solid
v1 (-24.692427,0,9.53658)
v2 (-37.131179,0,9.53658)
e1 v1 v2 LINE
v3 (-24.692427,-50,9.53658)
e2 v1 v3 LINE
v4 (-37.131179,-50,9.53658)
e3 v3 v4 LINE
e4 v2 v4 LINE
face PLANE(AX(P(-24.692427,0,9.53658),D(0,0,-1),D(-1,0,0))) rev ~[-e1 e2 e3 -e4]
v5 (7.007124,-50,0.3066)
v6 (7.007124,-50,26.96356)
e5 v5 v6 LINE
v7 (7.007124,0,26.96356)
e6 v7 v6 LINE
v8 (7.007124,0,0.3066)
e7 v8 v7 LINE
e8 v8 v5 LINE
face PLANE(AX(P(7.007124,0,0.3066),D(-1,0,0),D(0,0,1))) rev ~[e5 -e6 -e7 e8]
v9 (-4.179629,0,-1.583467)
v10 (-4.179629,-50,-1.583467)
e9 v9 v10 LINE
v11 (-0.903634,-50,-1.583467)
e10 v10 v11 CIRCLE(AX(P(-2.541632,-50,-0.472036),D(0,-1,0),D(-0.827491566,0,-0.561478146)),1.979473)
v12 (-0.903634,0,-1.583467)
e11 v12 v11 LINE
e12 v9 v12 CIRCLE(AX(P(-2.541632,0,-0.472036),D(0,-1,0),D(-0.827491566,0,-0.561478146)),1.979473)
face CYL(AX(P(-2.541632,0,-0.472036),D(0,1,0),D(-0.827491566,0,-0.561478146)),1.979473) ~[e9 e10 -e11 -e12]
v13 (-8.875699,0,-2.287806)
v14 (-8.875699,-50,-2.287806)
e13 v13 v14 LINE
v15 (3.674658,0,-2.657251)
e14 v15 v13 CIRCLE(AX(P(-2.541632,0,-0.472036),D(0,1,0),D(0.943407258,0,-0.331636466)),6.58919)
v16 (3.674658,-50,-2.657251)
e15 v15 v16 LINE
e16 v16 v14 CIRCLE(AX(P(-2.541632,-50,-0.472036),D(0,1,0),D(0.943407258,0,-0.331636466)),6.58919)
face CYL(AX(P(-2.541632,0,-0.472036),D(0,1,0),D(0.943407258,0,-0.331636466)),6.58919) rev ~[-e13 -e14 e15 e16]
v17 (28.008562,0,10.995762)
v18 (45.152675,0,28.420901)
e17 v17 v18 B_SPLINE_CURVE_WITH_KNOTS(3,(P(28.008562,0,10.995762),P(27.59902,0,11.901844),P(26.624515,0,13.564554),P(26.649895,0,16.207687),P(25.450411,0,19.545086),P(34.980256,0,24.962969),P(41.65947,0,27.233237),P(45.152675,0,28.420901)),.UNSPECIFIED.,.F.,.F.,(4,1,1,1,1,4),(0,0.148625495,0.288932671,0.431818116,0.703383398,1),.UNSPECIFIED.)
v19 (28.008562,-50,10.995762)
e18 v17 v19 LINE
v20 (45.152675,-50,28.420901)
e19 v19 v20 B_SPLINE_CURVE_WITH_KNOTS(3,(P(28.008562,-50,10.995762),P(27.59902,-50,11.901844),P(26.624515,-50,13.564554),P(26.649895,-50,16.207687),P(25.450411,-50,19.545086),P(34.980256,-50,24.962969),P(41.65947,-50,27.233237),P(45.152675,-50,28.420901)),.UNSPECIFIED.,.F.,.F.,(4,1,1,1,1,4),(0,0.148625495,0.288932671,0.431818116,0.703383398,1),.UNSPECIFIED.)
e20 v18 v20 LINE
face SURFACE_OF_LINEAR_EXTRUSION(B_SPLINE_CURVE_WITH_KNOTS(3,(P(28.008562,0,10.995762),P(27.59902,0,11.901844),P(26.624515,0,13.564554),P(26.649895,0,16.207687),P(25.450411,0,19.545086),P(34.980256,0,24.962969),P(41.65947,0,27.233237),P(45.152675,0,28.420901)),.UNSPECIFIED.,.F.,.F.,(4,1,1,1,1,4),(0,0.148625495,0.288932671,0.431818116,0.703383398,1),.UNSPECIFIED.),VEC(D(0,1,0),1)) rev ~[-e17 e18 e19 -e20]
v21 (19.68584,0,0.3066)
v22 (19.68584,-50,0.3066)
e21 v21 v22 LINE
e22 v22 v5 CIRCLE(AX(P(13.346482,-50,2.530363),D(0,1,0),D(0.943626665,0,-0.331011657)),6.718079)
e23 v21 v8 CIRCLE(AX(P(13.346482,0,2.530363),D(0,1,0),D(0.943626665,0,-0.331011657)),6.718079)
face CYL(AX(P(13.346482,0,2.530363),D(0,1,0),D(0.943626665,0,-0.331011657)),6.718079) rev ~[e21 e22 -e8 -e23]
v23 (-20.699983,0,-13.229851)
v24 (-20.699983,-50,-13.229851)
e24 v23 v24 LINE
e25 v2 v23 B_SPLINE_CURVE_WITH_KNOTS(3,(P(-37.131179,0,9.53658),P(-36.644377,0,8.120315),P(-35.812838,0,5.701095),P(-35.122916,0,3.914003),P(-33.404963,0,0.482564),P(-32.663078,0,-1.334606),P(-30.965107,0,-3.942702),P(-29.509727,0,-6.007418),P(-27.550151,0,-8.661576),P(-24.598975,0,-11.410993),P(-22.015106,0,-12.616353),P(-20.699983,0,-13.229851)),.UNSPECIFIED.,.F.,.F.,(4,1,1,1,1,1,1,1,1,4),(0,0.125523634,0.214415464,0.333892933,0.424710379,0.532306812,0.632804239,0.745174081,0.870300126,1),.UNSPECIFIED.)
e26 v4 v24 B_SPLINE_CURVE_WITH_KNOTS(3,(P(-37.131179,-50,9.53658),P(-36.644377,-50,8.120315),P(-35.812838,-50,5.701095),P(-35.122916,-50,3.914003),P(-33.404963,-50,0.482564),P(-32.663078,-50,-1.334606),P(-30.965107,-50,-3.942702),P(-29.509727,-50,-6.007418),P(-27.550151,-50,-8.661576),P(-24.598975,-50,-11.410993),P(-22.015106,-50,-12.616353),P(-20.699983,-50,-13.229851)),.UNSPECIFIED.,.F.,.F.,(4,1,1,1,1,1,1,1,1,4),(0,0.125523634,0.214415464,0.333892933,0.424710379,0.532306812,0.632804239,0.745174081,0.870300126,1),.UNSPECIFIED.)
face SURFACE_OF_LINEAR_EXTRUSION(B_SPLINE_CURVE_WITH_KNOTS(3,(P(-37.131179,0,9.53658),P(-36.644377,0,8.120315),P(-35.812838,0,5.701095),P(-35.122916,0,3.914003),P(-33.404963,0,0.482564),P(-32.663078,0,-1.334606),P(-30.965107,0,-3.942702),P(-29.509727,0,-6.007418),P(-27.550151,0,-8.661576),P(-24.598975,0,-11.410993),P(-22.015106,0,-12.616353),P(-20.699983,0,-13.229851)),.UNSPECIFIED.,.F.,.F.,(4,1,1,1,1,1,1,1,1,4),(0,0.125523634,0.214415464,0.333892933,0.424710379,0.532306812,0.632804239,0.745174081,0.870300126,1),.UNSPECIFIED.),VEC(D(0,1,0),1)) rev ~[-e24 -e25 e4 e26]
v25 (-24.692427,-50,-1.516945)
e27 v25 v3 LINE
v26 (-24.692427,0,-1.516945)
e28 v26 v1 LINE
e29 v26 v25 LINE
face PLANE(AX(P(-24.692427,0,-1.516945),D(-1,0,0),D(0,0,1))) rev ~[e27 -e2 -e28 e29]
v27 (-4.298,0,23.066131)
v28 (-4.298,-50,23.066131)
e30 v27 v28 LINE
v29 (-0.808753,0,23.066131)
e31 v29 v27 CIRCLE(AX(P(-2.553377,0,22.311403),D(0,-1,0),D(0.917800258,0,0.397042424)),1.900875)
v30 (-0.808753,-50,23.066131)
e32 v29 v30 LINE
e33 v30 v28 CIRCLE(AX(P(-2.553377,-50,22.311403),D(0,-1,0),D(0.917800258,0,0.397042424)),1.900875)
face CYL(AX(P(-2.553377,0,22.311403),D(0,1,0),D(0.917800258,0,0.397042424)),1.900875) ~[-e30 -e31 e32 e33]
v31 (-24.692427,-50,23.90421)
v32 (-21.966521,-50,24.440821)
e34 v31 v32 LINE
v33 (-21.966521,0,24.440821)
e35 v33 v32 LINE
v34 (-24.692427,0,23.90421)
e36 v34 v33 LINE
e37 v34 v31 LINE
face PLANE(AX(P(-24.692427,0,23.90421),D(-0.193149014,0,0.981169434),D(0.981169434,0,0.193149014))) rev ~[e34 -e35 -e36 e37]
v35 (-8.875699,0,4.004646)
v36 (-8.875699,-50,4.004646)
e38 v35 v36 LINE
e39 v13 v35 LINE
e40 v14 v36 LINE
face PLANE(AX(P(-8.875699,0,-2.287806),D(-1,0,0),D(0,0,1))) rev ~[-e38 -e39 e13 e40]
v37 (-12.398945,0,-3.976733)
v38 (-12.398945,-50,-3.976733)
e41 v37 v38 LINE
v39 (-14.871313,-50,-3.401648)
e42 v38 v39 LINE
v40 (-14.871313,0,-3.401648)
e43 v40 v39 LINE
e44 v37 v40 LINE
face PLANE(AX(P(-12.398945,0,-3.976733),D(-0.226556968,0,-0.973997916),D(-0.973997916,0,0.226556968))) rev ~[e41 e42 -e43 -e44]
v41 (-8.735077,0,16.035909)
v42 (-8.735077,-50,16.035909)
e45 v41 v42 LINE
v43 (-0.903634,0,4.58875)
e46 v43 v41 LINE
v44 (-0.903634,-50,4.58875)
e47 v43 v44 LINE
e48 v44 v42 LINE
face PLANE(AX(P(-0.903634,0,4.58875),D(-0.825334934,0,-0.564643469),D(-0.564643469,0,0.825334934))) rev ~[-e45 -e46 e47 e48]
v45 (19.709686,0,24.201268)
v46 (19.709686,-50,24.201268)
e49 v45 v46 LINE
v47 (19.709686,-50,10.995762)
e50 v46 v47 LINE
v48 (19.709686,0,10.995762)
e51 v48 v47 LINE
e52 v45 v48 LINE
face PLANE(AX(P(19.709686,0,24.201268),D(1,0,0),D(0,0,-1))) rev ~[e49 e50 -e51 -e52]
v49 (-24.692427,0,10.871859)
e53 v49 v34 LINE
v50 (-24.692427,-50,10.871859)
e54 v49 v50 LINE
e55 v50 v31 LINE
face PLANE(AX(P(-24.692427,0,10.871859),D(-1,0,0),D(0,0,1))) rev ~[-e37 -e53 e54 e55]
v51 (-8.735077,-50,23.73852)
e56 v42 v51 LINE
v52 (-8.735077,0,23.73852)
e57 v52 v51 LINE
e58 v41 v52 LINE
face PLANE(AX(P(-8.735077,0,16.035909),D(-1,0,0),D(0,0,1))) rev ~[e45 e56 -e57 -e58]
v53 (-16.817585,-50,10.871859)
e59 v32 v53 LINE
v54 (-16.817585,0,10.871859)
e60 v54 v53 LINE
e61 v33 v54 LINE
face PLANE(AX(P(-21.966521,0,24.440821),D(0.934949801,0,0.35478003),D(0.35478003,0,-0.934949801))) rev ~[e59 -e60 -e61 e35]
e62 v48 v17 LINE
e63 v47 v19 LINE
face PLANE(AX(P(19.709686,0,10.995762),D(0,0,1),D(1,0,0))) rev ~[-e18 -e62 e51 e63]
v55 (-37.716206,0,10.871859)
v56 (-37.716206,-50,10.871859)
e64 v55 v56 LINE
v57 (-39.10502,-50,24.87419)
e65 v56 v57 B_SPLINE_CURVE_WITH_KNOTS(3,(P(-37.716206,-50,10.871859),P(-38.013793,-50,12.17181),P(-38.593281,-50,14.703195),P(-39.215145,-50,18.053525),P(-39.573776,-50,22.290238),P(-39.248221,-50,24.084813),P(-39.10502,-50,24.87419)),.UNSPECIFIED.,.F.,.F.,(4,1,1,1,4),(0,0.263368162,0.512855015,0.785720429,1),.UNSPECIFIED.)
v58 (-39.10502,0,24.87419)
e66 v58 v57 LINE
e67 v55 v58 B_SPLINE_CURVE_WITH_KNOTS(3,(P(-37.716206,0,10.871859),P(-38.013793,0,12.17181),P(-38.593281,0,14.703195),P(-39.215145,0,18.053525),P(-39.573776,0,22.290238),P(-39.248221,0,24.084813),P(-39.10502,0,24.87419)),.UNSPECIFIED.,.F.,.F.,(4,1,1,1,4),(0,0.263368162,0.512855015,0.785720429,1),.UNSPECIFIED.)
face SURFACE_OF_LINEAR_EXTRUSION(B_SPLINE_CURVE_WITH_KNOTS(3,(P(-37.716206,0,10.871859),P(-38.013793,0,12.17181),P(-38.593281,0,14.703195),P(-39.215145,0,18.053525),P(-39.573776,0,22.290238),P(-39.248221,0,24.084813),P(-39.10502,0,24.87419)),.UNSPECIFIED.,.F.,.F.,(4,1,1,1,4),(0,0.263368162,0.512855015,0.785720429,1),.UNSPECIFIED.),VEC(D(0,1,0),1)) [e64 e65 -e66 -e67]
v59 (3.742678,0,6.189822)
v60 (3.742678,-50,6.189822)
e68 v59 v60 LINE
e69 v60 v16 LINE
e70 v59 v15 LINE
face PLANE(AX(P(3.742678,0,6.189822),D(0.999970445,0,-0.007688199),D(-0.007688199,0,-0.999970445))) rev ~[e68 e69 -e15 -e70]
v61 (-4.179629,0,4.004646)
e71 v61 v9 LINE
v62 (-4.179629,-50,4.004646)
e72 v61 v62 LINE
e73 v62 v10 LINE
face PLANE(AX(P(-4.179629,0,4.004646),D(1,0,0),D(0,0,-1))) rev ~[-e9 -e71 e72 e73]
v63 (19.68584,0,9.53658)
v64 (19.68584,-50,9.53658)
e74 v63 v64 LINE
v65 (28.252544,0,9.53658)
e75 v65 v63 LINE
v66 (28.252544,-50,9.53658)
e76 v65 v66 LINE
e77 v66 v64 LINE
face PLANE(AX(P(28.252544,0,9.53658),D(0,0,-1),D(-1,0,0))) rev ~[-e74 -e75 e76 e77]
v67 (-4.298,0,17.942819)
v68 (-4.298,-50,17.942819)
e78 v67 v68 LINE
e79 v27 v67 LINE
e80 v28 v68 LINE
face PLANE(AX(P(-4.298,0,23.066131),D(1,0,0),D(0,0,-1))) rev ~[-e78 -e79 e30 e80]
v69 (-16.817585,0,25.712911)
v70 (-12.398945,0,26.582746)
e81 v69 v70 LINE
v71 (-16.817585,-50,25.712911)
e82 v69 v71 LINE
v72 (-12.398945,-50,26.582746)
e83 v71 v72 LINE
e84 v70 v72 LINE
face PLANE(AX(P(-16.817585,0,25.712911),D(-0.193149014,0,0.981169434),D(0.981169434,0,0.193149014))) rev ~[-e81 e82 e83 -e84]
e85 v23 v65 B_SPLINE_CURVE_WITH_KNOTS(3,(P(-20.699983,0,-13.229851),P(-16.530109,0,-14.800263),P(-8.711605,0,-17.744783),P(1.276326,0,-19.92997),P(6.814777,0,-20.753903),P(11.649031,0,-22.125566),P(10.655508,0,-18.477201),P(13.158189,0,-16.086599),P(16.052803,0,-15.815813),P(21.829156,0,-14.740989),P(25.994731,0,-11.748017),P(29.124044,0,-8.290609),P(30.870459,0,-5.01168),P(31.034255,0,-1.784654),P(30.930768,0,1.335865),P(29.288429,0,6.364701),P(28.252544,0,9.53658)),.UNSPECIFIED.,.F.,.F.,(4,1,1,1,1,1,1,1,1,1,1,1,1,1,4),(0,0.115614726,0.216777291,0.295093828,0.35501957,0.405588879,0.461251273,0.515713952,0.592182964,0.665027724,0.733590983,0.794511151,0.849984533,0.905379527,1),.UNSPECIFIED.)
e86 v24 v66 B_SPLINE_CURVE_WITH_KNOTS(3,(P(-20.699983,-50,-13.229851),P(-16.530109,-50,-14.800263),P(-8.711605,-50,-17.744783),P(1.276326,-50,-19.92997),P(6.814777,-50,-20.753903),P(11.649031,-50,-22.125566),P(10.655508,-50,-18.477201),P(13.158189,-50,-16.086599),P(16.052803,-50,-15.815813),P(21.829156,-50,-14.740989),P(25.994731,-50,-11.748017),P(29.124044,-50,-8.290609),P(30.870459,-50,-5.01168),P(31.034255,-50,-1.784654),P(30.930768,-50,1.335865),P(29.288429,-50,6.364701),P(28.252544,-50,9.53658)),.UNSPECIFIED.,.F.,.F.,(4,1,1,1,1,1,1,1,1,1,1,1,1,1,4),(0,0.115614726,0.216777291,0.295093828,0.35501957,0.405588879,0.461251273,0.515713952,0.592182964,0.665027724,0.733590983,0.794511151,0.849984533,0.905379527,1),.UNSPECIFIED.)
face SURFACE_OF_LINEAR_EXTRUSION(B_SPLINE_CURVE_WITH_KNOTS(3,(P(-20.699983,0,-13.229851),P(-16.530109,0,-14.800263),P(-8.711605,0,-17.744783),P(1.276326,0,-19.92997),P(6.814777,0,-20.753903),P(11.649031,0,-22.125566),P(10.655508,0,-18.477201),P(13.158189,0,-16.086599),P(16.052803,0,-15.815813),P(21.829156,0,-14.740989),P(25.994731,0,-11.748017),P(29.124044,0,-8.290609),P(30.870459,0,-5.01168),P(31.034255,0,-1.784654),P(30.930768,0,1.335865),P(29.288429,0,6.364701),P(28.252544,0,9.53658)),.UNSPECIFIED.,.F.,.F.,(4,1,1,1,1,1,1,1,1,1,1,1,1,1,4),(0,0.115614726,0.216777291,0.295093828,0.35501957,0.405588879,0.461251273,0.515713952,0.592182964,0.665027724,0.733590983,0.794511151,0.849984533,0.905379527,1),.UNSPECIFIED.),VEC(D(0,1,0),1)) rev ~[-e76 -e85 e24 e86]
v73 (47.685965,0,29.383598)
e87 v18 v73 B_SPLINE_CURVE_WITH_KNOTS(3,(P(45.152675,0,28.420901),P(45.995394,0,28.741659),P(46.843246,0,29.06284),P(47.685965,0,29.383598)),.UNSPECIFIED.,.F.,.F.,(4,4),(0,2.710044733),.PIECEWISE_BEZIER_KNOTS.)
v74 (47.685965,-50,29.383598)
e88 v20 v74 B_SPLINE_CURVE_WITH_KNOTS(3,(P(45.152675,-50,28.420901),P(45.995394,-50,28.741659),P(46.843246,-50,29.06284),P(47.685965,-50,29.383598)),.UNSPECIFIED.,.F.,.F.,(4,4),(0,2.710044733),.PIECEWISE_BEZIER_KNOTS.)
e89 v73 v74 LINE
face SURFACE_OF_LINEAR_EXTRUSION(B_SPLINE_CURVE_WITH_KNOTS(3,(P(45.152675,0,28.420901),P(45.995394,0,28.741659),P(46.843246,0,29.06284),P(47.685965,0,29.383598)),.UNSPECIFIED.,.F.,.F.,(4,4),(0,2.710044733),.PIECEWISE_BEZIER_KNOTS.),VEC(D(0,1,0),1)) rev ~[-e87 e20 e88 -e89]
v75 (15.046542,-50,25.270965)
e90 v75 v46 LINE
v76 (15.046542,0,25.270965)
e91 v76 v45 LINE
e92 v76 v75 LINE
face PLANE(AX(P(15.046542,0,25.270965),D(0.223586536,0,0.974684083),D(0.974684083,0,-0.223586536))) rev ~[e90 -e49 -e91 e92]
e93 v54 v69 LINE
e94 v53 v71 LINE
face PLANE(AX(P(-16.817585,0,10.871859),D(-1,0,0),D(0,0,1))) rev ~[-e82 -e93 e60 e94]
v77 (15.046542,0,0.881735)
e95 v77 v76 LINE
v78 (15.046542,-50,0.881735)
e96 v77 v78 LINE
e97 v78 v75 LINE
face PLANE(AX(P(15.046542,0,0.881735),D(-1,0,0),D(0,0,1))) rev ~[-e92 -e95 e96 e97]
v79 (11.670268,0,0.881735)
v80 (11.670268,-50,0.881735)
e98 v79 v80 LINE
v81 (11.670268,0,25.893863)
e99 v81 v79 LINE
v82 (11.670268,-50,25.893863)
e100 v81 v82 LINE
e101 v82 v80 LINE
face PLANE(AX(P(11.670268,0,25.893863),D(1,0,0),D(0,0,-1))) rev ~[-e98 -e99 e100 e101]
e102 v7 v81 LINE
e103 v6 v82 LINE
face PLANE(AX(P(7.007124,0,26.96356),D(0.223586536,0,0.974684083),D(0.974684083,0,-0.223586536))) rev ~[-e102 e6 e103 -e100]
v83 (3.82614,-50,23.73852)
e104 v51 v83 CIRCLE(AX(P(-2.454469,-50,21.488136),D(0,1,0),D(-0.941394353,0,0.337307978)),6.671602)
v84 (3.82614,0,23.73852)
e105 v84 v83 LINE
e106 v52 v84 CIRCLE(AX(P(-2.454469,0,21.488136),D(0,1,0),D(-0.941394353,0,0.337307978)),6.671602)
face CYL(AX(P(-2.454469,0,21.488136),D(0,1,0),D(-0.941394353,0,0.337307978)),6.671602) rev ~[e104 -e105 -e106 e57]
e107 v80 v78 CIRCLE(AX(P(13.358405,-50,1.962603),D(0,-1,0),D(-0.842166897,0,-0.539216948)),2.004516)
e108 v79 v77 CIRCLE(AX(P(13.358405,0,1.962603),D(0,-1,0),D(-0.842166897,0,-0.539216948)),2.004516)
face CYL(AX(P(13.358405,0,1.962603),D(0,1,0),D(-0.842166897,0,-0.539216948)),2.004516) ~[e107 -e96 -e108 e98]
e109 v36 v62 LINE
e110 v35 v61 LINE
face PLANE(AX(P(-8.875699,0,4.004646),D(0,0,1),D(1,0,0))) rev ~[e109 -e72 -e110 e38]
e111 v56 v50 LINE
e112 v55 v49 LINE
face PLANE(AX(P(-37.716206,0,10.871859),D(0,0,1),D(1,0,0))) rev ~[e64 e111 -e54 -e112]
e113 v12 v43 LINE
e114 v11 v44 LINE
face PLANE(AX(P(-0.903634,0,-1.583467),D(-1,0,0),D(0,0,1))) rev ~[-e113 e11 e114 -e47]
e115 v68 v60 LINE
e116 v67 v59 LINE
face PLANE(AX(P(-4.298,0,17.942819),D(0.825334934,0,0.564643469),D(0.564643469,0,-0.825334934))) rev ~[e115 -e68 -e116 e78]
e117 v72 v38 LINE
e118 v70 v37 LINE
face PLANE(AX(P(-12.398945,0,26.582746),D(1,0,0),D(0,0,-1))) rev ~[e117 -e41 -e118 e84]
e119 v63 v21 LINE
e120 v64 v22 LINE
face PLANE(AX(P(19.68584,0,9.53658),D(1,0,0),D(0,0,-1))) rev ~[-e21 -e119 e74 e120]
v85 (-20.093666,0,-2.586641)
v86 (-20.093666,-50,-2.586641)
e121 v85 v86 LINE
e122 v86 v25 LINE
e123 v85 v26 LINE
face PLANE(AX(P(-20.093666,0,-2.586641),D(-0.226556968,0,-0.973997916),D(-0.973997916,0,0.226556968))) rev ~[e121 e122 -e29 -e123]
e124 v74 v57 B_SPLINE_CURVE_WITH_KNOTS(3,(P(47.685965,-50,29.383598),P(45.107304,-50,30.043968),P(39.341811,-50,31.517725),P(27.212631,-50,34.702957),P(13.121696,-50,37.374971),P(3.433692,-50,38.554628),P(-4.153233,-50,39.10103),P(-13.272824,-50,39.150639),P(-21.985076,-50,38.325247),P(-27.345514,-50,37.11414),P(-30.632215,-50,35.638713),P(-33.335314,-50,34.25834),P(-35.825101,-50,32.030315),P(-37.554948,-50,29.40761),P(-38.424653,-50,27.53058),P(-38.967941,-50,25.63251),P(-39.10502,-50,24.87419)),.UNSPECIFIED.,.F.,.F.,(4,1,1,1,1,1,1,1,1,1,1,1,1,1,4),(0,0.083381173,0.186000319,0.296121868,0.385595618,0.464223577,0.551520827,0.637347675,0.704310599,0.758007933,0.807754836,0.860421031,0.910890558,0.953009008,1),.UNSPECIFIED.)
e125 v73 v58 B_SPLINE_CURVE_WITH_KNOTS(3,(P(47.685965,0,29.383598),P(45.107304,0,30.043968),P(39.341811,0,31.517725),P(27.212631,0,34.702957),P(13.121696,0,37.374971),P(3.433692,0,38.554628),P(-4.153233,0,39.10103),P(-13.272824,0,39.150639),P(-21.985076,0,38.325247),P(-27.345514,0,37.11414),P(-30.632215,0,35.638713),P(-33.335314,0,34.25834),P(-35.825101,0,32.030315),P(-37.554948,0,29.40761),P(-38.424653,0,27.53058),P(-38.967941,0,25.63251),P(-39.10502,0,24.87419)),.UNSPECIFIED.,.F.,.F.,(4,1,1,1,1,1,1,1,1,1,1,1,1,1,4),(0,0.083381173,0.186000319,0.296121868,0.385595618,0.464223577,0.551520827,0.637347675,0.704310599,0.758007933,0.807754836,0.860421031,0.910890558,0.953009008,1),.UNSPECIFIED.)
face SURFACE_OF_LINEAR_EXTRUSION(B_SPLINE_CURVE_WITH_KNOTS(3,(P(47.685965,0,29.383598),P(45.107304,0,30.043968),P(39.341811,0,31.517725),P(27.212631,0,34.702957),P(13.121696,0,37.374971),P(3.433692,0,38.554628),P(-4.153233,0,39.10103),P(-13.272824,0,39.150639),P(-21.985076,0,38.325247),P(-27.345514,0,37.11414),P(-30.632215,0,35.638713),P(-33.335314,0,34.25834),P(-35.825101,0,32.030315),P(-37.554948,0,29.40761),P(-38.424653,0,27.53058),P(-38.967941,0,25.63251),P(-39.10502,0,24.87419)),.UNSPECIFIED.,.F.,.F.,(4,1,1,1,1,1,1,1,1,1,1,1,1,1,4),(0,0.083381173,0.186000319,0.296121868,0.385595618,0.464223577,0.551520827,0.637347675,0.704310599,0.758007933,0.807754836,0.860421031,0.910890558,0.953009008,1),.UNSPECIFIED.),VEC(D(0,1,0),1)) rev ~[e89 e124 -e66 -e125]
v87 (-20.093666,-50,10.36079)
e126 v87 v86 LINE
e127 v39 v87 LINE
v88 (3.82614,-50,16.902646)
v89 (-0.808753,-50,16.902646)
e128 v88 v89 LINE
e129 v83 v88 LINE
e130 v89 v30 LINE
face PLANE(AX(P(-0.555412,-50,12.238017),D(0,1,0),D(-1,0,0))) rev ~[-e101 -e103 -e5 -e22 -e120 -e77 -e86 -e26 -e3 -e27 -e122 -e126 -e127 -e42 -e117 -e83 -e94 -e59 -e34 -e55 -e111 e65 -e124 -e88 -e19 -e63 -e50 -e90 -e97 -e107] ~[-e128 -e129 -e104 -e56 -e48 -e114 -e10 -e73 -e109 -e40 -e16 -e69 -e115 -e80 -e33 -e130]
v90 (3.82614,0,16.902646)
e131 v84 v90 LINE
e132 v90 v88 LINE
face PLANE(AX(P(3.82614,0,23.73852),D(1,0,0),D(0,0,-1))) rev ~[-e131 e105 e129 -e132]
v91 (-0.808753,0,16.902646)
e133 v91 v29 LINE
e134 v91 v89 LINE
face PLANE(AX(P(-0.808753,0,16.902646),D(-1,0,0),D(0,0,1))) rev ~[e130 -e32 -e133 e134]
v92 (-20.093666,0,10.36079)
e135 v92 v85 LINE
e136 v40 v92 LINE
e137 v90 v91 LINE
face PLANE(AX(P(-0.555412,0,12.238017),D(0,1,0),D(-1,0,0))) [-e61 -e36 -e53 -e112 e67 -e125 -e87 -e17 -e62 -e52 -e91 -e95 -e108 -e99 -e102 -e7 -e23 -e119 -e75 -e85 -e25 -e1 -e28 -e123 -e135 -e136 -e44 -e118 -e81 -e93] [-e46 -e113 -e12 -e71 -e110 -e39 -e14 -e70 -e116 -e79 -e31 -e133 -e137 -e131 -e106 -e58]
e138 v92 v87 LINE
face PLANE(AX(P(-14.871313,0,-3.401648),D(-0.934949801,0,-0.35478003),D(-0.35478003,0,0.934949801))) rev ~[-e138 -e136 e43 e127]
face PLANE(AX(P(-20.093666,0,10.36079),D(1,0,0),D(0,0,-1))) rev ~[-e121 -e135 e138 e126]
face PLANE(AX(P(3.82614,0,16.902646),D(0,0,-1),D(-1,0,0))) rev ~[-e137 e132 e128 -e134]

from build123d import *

# Parameters (mm, degrees)
F1_DEPTH = 50


with BuildPart() as f1:
    # F0 (on Front) → F1 (new body)
    with BuildSketch(Plane.XZ):
        with BuildLine():
            add(Edge.make_bspline(
                [(-37.7162061632, 10.8718592674), (-38.0137925928, 12.1718101066), (-38.5932806053, 14.7031954565), (-39.2151447113, 18.0535253196), (-39.5737756392, 22.2902382556), (-39.2482214069, 24.0848133925), (-39.1050204635, 24.8741898686)],
                knots=[0, 0, 0, 0, 0.2633681623, 0.5128550154, 0.7857204286, 1, 1, 1, 1], degree=3))
            Line((-37.7162061632, 10.8718592674), (-24.692427367, 10.8718592674))
            Line((-24.692427367, 10.8718592674), (-24.692427367, 23.9042103876))
            Line((-24.692427367, 23.9042103876), (-21.9665206969, 24.4408212602))
            Line((-21.9665206969, 24.4408212602), (-16.8175846338, 10.8718592674))
            Line((-16.8175846338, 10.8718592674), (-16.8175846338, 25.7129110396))
            Line((-16.8175846338, 25.7129110396), (-12.3989448364, 26.5827464538))
            Line((-12.3989448364, 26.5827464538), (-12.3989448364, -3.9767332708))
            Line((-12.3989448364, -3.9767332708), (-14.8713132367, -3.4016475547))
            Line((-14.8713132367, -3.4016475547), (-20.0936662698, 10.3607897628))
            Line((-20.0936662698, 10.3607897628), (-20.0936662698, -2.5866411161))
            Line((-20.0936662698, -2.5866411161), (-24.692427367, -1.5169454273))
            Line((-24.692427367, -1.5169454273), (-24.692427367, 9.5365801826))
            Line((-24.692427367, 9.5365801826), (-37.1311791241, 9.5365801826))
            add(Edge.make_bspline(
                [(-37.1311791241, 9.5365801826), (-36.6443772184, 8.1203147102), (-35.8128377427, 5.7010952401), (-35.1229162991, 3.9140028803), (-33.4049634325, 0.4825636444), (-32.6630781804, -1.3346058437), (-30.9651065329, -3.9427016689), (-29.509727436, -6.00741778), (-27.5501513285, -8.661576152), (-24.5989748796, -11.4109926011), (-22.0151064088, -12.6163530494), (-20.6999834627, -13.2298506796)],
                knots=[0, 0, 0, 0, 0.1255236338, 0.2144154644, 0.3338929331, 0.4247103788, 0.5323068124, 0.6328042387, 0.7451740805, 0.8703001264, 1, 1, 1, 1], degree=3))
            add(Edge.make_bspline(
                [(-20.6999834627, -13.2298506796), (-16.5301085551, -14.8002632919), (-8.7116046094, -17.7447826065), (1.2763262747, -19.9299698522), (6.8147770756, -20.7539027843), (11.6490305393, -22.1255664797), (10.6555075071, -18.4772007098), (13.1581887862, -16.086599108), (16.052802937, -15.8158127323), (21.8291561008, -14.7409885195), (25.9947312111, -11.7480172987), (29.1240435942, -8.2906086726), (30.8704592823, -5.0116798542), (31.0342548039, -1.7846543849), (30.9307681785, 1.3358652121), (29.2884294917, 6.3647014715), (28.2525438815, 9.5365801826)],
                knots=[0, 0, 0, 0, 0.1156147255, 0.2167772912, 0.2950938275, 0.3550195696, 0.4055888786, 0.4612512734, 0.5157139519, 0.5921829643, 0.6650277241, 0.7335909835, 0.7945111507, 0.8499845334, 0.9053795272, 1, 1, 1, 1], degree=3))
            Line((28.2525438815, 9.5365801826), (19.6858402342, 9.5365801826))
            Line((19.6858402342, 9.5365801826), (19.6858402342, 0.3066004333))
            ThreePointArc((19.6858402342, 0.3066004333), (13.3464820683, -4.1877158784), (7.0071239024, 0.3066004333))
            Line((7.0071239024, 0.3066004333), (7.0071239024, 1.9209996099))
            Line((7.0071239024, 1.9209996099), (7.0071239024, 26.9635599107))
            Line((7.0071239024, 26.9635599107), (11.6702681407, 25.8938632905))
            Line((11.6702681407, 25.8938632905), (11.6702681407, 0.8817345434))
            ThreePointArc((11.6702681407, 0.8817345434), (13.3584048599, -0.0419122917), (15.0465415791, 0.8817345434))
            Line((15.0465415791, 0.8817345434), (15.0465415791, 25.2709649503))
            Line((15.0465415791, 25.2709649503), (19.7096858174, 24.2012683302))
            Line((19.7096858174, 24.2012683302), (19.7096858174, 10.9957624227))
            Line((19.7096858174, 10.9957624227), (28.0085615814, 10.9957624227))
            add(Edge.make_bspline(
                [(28.0085615814, 10.9957624227), (27.5990196151, 11.9018441718), (26.6245147306, 13.5645543288), (26.6498949617, 16.2076869277), (25.4504108103, 19.5450855972), (34.9802563239, 24.9629685602), (41.6594700108, 27.2332369803), (45.1526753604, 28.420900926)],
                knots=[0, 0, 0, 0, 0.1486254949, 0.288932671, 0.4318181156, 0.703383398, 1, 1, 1, 1], degree=3))
            add(Edge.make_bspline(
                [(45.1526753604, 28.420900926), (45.9953943888, 28.7416589757), (46.8432460567, 29.062839935), (47.6859650851, 29.3835979847)],
                knots=[0, 0, 0, 0, 2.7100447332, 2.7100447332, 2.7100447332, 2.7100447332], degree=3))
            add(Edge.make_bspline(
                [(47.6859650851, 29.3835979847), (45.1073037008, 30.0439684401), (39.3418110148, 31.5177252321), (27.2126313622, 34.7029571715), (13.1216955207, 37.3749708143), (3.4336924436, 38.5546282012), (-4.1532333455, 39.1010302943), (-13.2728239958, 39.1506385664), (-21.9850756514, 38.3252473292), (-27.3455135239, 37.1141395602), (-30.6322151669, 35.638712881), (-33.3353144975, 34.2583399157), (-35.8251010864, 32.0303153592), (-37.5549477975, 29.4076102427), (-38.4246526946, 27.5305795614), (-38.9679409564, 25.6325099617), (-39.1050204635, 24.8741898686)],
                knots=[0, 0, 0, 0, 0.0833811733, 0.1860003185, 0.2961218678, 0.3855956178, 0.4642235766, 0.5515208268, 0.6373476746, 0.7043105994, 0.7580079326, 0.8077548361, 0.8604210307, 0.9108905578, 0.9530090083, 1, 1, 1, 1], degree=3))
        make_face()
        with BuildLine():
            ThreePointArc((3.6746582482, -2.6572514325), (-2.7355141183, -7.0583728261), (-8.8756987825, -2.2878056084))
            Line((-8.8756987825, -2.2878056084), (-8.8756987825, 4.004645627))
            Line((-8.8756987825, 4.004645627), (-4.1796290316, 4.004645627))
            Line((-4.1796290316, 4.004645627), (-4.1796290316, -1.5834666556))
            ThreePointArc((-4.1796290316, -1.5834666556), (-2.5416316057, -2.4515089383), (-0.9036341798, -1.5834666556))
            Line((-0.9036341798, -1.5834666556), (-0.9036341798, -0.7915620226))
            Line((-0.9036341798, -0.7915620226), (-0.9036341798, 4.5887495607))
            Line((-0.9036341798, 4.5887495607), (-8.7350774556, 16.0359088331))
            Line((-8.7350774556, 16.0359088331), (-8.7350774556, 23.7385202199))
            ThreePointArc((-8.7350774556, 23.7385202199), (-2.4544686312, 28.1597379043), (3.8261401933, 23.7385202199))
            Line((3.8261401933, 23.7385202199), (3.8261401933, 16.9026460499))
            Line((3.8261401933, 16.9026460499), (-0.8087534225, 16.9026460499))
            Line((-0.8087534225, 16.9026460499), (-0.8087534225, 23.0661313981))
            ThreePointArc((-0.8087534225, 23.0661313981), (-2.5533767766, 24.2122782413), (-4.2980001308, 23.0661313981))
            Line((-4.2980001308, 23.0661313981), (-4.2980001308, 17.9428189131))
            Line((-4.2980001308, 17.9428189131), (3.7426783238, 6.1898222193))
            Line((3.7426783238, 6.1898222193), (3.6746582482, -2.6572514325))
        make_face(mode=Mode.SUBTRACT)
    extrude(amount=F1_DEPTH)


solid = f1.part
